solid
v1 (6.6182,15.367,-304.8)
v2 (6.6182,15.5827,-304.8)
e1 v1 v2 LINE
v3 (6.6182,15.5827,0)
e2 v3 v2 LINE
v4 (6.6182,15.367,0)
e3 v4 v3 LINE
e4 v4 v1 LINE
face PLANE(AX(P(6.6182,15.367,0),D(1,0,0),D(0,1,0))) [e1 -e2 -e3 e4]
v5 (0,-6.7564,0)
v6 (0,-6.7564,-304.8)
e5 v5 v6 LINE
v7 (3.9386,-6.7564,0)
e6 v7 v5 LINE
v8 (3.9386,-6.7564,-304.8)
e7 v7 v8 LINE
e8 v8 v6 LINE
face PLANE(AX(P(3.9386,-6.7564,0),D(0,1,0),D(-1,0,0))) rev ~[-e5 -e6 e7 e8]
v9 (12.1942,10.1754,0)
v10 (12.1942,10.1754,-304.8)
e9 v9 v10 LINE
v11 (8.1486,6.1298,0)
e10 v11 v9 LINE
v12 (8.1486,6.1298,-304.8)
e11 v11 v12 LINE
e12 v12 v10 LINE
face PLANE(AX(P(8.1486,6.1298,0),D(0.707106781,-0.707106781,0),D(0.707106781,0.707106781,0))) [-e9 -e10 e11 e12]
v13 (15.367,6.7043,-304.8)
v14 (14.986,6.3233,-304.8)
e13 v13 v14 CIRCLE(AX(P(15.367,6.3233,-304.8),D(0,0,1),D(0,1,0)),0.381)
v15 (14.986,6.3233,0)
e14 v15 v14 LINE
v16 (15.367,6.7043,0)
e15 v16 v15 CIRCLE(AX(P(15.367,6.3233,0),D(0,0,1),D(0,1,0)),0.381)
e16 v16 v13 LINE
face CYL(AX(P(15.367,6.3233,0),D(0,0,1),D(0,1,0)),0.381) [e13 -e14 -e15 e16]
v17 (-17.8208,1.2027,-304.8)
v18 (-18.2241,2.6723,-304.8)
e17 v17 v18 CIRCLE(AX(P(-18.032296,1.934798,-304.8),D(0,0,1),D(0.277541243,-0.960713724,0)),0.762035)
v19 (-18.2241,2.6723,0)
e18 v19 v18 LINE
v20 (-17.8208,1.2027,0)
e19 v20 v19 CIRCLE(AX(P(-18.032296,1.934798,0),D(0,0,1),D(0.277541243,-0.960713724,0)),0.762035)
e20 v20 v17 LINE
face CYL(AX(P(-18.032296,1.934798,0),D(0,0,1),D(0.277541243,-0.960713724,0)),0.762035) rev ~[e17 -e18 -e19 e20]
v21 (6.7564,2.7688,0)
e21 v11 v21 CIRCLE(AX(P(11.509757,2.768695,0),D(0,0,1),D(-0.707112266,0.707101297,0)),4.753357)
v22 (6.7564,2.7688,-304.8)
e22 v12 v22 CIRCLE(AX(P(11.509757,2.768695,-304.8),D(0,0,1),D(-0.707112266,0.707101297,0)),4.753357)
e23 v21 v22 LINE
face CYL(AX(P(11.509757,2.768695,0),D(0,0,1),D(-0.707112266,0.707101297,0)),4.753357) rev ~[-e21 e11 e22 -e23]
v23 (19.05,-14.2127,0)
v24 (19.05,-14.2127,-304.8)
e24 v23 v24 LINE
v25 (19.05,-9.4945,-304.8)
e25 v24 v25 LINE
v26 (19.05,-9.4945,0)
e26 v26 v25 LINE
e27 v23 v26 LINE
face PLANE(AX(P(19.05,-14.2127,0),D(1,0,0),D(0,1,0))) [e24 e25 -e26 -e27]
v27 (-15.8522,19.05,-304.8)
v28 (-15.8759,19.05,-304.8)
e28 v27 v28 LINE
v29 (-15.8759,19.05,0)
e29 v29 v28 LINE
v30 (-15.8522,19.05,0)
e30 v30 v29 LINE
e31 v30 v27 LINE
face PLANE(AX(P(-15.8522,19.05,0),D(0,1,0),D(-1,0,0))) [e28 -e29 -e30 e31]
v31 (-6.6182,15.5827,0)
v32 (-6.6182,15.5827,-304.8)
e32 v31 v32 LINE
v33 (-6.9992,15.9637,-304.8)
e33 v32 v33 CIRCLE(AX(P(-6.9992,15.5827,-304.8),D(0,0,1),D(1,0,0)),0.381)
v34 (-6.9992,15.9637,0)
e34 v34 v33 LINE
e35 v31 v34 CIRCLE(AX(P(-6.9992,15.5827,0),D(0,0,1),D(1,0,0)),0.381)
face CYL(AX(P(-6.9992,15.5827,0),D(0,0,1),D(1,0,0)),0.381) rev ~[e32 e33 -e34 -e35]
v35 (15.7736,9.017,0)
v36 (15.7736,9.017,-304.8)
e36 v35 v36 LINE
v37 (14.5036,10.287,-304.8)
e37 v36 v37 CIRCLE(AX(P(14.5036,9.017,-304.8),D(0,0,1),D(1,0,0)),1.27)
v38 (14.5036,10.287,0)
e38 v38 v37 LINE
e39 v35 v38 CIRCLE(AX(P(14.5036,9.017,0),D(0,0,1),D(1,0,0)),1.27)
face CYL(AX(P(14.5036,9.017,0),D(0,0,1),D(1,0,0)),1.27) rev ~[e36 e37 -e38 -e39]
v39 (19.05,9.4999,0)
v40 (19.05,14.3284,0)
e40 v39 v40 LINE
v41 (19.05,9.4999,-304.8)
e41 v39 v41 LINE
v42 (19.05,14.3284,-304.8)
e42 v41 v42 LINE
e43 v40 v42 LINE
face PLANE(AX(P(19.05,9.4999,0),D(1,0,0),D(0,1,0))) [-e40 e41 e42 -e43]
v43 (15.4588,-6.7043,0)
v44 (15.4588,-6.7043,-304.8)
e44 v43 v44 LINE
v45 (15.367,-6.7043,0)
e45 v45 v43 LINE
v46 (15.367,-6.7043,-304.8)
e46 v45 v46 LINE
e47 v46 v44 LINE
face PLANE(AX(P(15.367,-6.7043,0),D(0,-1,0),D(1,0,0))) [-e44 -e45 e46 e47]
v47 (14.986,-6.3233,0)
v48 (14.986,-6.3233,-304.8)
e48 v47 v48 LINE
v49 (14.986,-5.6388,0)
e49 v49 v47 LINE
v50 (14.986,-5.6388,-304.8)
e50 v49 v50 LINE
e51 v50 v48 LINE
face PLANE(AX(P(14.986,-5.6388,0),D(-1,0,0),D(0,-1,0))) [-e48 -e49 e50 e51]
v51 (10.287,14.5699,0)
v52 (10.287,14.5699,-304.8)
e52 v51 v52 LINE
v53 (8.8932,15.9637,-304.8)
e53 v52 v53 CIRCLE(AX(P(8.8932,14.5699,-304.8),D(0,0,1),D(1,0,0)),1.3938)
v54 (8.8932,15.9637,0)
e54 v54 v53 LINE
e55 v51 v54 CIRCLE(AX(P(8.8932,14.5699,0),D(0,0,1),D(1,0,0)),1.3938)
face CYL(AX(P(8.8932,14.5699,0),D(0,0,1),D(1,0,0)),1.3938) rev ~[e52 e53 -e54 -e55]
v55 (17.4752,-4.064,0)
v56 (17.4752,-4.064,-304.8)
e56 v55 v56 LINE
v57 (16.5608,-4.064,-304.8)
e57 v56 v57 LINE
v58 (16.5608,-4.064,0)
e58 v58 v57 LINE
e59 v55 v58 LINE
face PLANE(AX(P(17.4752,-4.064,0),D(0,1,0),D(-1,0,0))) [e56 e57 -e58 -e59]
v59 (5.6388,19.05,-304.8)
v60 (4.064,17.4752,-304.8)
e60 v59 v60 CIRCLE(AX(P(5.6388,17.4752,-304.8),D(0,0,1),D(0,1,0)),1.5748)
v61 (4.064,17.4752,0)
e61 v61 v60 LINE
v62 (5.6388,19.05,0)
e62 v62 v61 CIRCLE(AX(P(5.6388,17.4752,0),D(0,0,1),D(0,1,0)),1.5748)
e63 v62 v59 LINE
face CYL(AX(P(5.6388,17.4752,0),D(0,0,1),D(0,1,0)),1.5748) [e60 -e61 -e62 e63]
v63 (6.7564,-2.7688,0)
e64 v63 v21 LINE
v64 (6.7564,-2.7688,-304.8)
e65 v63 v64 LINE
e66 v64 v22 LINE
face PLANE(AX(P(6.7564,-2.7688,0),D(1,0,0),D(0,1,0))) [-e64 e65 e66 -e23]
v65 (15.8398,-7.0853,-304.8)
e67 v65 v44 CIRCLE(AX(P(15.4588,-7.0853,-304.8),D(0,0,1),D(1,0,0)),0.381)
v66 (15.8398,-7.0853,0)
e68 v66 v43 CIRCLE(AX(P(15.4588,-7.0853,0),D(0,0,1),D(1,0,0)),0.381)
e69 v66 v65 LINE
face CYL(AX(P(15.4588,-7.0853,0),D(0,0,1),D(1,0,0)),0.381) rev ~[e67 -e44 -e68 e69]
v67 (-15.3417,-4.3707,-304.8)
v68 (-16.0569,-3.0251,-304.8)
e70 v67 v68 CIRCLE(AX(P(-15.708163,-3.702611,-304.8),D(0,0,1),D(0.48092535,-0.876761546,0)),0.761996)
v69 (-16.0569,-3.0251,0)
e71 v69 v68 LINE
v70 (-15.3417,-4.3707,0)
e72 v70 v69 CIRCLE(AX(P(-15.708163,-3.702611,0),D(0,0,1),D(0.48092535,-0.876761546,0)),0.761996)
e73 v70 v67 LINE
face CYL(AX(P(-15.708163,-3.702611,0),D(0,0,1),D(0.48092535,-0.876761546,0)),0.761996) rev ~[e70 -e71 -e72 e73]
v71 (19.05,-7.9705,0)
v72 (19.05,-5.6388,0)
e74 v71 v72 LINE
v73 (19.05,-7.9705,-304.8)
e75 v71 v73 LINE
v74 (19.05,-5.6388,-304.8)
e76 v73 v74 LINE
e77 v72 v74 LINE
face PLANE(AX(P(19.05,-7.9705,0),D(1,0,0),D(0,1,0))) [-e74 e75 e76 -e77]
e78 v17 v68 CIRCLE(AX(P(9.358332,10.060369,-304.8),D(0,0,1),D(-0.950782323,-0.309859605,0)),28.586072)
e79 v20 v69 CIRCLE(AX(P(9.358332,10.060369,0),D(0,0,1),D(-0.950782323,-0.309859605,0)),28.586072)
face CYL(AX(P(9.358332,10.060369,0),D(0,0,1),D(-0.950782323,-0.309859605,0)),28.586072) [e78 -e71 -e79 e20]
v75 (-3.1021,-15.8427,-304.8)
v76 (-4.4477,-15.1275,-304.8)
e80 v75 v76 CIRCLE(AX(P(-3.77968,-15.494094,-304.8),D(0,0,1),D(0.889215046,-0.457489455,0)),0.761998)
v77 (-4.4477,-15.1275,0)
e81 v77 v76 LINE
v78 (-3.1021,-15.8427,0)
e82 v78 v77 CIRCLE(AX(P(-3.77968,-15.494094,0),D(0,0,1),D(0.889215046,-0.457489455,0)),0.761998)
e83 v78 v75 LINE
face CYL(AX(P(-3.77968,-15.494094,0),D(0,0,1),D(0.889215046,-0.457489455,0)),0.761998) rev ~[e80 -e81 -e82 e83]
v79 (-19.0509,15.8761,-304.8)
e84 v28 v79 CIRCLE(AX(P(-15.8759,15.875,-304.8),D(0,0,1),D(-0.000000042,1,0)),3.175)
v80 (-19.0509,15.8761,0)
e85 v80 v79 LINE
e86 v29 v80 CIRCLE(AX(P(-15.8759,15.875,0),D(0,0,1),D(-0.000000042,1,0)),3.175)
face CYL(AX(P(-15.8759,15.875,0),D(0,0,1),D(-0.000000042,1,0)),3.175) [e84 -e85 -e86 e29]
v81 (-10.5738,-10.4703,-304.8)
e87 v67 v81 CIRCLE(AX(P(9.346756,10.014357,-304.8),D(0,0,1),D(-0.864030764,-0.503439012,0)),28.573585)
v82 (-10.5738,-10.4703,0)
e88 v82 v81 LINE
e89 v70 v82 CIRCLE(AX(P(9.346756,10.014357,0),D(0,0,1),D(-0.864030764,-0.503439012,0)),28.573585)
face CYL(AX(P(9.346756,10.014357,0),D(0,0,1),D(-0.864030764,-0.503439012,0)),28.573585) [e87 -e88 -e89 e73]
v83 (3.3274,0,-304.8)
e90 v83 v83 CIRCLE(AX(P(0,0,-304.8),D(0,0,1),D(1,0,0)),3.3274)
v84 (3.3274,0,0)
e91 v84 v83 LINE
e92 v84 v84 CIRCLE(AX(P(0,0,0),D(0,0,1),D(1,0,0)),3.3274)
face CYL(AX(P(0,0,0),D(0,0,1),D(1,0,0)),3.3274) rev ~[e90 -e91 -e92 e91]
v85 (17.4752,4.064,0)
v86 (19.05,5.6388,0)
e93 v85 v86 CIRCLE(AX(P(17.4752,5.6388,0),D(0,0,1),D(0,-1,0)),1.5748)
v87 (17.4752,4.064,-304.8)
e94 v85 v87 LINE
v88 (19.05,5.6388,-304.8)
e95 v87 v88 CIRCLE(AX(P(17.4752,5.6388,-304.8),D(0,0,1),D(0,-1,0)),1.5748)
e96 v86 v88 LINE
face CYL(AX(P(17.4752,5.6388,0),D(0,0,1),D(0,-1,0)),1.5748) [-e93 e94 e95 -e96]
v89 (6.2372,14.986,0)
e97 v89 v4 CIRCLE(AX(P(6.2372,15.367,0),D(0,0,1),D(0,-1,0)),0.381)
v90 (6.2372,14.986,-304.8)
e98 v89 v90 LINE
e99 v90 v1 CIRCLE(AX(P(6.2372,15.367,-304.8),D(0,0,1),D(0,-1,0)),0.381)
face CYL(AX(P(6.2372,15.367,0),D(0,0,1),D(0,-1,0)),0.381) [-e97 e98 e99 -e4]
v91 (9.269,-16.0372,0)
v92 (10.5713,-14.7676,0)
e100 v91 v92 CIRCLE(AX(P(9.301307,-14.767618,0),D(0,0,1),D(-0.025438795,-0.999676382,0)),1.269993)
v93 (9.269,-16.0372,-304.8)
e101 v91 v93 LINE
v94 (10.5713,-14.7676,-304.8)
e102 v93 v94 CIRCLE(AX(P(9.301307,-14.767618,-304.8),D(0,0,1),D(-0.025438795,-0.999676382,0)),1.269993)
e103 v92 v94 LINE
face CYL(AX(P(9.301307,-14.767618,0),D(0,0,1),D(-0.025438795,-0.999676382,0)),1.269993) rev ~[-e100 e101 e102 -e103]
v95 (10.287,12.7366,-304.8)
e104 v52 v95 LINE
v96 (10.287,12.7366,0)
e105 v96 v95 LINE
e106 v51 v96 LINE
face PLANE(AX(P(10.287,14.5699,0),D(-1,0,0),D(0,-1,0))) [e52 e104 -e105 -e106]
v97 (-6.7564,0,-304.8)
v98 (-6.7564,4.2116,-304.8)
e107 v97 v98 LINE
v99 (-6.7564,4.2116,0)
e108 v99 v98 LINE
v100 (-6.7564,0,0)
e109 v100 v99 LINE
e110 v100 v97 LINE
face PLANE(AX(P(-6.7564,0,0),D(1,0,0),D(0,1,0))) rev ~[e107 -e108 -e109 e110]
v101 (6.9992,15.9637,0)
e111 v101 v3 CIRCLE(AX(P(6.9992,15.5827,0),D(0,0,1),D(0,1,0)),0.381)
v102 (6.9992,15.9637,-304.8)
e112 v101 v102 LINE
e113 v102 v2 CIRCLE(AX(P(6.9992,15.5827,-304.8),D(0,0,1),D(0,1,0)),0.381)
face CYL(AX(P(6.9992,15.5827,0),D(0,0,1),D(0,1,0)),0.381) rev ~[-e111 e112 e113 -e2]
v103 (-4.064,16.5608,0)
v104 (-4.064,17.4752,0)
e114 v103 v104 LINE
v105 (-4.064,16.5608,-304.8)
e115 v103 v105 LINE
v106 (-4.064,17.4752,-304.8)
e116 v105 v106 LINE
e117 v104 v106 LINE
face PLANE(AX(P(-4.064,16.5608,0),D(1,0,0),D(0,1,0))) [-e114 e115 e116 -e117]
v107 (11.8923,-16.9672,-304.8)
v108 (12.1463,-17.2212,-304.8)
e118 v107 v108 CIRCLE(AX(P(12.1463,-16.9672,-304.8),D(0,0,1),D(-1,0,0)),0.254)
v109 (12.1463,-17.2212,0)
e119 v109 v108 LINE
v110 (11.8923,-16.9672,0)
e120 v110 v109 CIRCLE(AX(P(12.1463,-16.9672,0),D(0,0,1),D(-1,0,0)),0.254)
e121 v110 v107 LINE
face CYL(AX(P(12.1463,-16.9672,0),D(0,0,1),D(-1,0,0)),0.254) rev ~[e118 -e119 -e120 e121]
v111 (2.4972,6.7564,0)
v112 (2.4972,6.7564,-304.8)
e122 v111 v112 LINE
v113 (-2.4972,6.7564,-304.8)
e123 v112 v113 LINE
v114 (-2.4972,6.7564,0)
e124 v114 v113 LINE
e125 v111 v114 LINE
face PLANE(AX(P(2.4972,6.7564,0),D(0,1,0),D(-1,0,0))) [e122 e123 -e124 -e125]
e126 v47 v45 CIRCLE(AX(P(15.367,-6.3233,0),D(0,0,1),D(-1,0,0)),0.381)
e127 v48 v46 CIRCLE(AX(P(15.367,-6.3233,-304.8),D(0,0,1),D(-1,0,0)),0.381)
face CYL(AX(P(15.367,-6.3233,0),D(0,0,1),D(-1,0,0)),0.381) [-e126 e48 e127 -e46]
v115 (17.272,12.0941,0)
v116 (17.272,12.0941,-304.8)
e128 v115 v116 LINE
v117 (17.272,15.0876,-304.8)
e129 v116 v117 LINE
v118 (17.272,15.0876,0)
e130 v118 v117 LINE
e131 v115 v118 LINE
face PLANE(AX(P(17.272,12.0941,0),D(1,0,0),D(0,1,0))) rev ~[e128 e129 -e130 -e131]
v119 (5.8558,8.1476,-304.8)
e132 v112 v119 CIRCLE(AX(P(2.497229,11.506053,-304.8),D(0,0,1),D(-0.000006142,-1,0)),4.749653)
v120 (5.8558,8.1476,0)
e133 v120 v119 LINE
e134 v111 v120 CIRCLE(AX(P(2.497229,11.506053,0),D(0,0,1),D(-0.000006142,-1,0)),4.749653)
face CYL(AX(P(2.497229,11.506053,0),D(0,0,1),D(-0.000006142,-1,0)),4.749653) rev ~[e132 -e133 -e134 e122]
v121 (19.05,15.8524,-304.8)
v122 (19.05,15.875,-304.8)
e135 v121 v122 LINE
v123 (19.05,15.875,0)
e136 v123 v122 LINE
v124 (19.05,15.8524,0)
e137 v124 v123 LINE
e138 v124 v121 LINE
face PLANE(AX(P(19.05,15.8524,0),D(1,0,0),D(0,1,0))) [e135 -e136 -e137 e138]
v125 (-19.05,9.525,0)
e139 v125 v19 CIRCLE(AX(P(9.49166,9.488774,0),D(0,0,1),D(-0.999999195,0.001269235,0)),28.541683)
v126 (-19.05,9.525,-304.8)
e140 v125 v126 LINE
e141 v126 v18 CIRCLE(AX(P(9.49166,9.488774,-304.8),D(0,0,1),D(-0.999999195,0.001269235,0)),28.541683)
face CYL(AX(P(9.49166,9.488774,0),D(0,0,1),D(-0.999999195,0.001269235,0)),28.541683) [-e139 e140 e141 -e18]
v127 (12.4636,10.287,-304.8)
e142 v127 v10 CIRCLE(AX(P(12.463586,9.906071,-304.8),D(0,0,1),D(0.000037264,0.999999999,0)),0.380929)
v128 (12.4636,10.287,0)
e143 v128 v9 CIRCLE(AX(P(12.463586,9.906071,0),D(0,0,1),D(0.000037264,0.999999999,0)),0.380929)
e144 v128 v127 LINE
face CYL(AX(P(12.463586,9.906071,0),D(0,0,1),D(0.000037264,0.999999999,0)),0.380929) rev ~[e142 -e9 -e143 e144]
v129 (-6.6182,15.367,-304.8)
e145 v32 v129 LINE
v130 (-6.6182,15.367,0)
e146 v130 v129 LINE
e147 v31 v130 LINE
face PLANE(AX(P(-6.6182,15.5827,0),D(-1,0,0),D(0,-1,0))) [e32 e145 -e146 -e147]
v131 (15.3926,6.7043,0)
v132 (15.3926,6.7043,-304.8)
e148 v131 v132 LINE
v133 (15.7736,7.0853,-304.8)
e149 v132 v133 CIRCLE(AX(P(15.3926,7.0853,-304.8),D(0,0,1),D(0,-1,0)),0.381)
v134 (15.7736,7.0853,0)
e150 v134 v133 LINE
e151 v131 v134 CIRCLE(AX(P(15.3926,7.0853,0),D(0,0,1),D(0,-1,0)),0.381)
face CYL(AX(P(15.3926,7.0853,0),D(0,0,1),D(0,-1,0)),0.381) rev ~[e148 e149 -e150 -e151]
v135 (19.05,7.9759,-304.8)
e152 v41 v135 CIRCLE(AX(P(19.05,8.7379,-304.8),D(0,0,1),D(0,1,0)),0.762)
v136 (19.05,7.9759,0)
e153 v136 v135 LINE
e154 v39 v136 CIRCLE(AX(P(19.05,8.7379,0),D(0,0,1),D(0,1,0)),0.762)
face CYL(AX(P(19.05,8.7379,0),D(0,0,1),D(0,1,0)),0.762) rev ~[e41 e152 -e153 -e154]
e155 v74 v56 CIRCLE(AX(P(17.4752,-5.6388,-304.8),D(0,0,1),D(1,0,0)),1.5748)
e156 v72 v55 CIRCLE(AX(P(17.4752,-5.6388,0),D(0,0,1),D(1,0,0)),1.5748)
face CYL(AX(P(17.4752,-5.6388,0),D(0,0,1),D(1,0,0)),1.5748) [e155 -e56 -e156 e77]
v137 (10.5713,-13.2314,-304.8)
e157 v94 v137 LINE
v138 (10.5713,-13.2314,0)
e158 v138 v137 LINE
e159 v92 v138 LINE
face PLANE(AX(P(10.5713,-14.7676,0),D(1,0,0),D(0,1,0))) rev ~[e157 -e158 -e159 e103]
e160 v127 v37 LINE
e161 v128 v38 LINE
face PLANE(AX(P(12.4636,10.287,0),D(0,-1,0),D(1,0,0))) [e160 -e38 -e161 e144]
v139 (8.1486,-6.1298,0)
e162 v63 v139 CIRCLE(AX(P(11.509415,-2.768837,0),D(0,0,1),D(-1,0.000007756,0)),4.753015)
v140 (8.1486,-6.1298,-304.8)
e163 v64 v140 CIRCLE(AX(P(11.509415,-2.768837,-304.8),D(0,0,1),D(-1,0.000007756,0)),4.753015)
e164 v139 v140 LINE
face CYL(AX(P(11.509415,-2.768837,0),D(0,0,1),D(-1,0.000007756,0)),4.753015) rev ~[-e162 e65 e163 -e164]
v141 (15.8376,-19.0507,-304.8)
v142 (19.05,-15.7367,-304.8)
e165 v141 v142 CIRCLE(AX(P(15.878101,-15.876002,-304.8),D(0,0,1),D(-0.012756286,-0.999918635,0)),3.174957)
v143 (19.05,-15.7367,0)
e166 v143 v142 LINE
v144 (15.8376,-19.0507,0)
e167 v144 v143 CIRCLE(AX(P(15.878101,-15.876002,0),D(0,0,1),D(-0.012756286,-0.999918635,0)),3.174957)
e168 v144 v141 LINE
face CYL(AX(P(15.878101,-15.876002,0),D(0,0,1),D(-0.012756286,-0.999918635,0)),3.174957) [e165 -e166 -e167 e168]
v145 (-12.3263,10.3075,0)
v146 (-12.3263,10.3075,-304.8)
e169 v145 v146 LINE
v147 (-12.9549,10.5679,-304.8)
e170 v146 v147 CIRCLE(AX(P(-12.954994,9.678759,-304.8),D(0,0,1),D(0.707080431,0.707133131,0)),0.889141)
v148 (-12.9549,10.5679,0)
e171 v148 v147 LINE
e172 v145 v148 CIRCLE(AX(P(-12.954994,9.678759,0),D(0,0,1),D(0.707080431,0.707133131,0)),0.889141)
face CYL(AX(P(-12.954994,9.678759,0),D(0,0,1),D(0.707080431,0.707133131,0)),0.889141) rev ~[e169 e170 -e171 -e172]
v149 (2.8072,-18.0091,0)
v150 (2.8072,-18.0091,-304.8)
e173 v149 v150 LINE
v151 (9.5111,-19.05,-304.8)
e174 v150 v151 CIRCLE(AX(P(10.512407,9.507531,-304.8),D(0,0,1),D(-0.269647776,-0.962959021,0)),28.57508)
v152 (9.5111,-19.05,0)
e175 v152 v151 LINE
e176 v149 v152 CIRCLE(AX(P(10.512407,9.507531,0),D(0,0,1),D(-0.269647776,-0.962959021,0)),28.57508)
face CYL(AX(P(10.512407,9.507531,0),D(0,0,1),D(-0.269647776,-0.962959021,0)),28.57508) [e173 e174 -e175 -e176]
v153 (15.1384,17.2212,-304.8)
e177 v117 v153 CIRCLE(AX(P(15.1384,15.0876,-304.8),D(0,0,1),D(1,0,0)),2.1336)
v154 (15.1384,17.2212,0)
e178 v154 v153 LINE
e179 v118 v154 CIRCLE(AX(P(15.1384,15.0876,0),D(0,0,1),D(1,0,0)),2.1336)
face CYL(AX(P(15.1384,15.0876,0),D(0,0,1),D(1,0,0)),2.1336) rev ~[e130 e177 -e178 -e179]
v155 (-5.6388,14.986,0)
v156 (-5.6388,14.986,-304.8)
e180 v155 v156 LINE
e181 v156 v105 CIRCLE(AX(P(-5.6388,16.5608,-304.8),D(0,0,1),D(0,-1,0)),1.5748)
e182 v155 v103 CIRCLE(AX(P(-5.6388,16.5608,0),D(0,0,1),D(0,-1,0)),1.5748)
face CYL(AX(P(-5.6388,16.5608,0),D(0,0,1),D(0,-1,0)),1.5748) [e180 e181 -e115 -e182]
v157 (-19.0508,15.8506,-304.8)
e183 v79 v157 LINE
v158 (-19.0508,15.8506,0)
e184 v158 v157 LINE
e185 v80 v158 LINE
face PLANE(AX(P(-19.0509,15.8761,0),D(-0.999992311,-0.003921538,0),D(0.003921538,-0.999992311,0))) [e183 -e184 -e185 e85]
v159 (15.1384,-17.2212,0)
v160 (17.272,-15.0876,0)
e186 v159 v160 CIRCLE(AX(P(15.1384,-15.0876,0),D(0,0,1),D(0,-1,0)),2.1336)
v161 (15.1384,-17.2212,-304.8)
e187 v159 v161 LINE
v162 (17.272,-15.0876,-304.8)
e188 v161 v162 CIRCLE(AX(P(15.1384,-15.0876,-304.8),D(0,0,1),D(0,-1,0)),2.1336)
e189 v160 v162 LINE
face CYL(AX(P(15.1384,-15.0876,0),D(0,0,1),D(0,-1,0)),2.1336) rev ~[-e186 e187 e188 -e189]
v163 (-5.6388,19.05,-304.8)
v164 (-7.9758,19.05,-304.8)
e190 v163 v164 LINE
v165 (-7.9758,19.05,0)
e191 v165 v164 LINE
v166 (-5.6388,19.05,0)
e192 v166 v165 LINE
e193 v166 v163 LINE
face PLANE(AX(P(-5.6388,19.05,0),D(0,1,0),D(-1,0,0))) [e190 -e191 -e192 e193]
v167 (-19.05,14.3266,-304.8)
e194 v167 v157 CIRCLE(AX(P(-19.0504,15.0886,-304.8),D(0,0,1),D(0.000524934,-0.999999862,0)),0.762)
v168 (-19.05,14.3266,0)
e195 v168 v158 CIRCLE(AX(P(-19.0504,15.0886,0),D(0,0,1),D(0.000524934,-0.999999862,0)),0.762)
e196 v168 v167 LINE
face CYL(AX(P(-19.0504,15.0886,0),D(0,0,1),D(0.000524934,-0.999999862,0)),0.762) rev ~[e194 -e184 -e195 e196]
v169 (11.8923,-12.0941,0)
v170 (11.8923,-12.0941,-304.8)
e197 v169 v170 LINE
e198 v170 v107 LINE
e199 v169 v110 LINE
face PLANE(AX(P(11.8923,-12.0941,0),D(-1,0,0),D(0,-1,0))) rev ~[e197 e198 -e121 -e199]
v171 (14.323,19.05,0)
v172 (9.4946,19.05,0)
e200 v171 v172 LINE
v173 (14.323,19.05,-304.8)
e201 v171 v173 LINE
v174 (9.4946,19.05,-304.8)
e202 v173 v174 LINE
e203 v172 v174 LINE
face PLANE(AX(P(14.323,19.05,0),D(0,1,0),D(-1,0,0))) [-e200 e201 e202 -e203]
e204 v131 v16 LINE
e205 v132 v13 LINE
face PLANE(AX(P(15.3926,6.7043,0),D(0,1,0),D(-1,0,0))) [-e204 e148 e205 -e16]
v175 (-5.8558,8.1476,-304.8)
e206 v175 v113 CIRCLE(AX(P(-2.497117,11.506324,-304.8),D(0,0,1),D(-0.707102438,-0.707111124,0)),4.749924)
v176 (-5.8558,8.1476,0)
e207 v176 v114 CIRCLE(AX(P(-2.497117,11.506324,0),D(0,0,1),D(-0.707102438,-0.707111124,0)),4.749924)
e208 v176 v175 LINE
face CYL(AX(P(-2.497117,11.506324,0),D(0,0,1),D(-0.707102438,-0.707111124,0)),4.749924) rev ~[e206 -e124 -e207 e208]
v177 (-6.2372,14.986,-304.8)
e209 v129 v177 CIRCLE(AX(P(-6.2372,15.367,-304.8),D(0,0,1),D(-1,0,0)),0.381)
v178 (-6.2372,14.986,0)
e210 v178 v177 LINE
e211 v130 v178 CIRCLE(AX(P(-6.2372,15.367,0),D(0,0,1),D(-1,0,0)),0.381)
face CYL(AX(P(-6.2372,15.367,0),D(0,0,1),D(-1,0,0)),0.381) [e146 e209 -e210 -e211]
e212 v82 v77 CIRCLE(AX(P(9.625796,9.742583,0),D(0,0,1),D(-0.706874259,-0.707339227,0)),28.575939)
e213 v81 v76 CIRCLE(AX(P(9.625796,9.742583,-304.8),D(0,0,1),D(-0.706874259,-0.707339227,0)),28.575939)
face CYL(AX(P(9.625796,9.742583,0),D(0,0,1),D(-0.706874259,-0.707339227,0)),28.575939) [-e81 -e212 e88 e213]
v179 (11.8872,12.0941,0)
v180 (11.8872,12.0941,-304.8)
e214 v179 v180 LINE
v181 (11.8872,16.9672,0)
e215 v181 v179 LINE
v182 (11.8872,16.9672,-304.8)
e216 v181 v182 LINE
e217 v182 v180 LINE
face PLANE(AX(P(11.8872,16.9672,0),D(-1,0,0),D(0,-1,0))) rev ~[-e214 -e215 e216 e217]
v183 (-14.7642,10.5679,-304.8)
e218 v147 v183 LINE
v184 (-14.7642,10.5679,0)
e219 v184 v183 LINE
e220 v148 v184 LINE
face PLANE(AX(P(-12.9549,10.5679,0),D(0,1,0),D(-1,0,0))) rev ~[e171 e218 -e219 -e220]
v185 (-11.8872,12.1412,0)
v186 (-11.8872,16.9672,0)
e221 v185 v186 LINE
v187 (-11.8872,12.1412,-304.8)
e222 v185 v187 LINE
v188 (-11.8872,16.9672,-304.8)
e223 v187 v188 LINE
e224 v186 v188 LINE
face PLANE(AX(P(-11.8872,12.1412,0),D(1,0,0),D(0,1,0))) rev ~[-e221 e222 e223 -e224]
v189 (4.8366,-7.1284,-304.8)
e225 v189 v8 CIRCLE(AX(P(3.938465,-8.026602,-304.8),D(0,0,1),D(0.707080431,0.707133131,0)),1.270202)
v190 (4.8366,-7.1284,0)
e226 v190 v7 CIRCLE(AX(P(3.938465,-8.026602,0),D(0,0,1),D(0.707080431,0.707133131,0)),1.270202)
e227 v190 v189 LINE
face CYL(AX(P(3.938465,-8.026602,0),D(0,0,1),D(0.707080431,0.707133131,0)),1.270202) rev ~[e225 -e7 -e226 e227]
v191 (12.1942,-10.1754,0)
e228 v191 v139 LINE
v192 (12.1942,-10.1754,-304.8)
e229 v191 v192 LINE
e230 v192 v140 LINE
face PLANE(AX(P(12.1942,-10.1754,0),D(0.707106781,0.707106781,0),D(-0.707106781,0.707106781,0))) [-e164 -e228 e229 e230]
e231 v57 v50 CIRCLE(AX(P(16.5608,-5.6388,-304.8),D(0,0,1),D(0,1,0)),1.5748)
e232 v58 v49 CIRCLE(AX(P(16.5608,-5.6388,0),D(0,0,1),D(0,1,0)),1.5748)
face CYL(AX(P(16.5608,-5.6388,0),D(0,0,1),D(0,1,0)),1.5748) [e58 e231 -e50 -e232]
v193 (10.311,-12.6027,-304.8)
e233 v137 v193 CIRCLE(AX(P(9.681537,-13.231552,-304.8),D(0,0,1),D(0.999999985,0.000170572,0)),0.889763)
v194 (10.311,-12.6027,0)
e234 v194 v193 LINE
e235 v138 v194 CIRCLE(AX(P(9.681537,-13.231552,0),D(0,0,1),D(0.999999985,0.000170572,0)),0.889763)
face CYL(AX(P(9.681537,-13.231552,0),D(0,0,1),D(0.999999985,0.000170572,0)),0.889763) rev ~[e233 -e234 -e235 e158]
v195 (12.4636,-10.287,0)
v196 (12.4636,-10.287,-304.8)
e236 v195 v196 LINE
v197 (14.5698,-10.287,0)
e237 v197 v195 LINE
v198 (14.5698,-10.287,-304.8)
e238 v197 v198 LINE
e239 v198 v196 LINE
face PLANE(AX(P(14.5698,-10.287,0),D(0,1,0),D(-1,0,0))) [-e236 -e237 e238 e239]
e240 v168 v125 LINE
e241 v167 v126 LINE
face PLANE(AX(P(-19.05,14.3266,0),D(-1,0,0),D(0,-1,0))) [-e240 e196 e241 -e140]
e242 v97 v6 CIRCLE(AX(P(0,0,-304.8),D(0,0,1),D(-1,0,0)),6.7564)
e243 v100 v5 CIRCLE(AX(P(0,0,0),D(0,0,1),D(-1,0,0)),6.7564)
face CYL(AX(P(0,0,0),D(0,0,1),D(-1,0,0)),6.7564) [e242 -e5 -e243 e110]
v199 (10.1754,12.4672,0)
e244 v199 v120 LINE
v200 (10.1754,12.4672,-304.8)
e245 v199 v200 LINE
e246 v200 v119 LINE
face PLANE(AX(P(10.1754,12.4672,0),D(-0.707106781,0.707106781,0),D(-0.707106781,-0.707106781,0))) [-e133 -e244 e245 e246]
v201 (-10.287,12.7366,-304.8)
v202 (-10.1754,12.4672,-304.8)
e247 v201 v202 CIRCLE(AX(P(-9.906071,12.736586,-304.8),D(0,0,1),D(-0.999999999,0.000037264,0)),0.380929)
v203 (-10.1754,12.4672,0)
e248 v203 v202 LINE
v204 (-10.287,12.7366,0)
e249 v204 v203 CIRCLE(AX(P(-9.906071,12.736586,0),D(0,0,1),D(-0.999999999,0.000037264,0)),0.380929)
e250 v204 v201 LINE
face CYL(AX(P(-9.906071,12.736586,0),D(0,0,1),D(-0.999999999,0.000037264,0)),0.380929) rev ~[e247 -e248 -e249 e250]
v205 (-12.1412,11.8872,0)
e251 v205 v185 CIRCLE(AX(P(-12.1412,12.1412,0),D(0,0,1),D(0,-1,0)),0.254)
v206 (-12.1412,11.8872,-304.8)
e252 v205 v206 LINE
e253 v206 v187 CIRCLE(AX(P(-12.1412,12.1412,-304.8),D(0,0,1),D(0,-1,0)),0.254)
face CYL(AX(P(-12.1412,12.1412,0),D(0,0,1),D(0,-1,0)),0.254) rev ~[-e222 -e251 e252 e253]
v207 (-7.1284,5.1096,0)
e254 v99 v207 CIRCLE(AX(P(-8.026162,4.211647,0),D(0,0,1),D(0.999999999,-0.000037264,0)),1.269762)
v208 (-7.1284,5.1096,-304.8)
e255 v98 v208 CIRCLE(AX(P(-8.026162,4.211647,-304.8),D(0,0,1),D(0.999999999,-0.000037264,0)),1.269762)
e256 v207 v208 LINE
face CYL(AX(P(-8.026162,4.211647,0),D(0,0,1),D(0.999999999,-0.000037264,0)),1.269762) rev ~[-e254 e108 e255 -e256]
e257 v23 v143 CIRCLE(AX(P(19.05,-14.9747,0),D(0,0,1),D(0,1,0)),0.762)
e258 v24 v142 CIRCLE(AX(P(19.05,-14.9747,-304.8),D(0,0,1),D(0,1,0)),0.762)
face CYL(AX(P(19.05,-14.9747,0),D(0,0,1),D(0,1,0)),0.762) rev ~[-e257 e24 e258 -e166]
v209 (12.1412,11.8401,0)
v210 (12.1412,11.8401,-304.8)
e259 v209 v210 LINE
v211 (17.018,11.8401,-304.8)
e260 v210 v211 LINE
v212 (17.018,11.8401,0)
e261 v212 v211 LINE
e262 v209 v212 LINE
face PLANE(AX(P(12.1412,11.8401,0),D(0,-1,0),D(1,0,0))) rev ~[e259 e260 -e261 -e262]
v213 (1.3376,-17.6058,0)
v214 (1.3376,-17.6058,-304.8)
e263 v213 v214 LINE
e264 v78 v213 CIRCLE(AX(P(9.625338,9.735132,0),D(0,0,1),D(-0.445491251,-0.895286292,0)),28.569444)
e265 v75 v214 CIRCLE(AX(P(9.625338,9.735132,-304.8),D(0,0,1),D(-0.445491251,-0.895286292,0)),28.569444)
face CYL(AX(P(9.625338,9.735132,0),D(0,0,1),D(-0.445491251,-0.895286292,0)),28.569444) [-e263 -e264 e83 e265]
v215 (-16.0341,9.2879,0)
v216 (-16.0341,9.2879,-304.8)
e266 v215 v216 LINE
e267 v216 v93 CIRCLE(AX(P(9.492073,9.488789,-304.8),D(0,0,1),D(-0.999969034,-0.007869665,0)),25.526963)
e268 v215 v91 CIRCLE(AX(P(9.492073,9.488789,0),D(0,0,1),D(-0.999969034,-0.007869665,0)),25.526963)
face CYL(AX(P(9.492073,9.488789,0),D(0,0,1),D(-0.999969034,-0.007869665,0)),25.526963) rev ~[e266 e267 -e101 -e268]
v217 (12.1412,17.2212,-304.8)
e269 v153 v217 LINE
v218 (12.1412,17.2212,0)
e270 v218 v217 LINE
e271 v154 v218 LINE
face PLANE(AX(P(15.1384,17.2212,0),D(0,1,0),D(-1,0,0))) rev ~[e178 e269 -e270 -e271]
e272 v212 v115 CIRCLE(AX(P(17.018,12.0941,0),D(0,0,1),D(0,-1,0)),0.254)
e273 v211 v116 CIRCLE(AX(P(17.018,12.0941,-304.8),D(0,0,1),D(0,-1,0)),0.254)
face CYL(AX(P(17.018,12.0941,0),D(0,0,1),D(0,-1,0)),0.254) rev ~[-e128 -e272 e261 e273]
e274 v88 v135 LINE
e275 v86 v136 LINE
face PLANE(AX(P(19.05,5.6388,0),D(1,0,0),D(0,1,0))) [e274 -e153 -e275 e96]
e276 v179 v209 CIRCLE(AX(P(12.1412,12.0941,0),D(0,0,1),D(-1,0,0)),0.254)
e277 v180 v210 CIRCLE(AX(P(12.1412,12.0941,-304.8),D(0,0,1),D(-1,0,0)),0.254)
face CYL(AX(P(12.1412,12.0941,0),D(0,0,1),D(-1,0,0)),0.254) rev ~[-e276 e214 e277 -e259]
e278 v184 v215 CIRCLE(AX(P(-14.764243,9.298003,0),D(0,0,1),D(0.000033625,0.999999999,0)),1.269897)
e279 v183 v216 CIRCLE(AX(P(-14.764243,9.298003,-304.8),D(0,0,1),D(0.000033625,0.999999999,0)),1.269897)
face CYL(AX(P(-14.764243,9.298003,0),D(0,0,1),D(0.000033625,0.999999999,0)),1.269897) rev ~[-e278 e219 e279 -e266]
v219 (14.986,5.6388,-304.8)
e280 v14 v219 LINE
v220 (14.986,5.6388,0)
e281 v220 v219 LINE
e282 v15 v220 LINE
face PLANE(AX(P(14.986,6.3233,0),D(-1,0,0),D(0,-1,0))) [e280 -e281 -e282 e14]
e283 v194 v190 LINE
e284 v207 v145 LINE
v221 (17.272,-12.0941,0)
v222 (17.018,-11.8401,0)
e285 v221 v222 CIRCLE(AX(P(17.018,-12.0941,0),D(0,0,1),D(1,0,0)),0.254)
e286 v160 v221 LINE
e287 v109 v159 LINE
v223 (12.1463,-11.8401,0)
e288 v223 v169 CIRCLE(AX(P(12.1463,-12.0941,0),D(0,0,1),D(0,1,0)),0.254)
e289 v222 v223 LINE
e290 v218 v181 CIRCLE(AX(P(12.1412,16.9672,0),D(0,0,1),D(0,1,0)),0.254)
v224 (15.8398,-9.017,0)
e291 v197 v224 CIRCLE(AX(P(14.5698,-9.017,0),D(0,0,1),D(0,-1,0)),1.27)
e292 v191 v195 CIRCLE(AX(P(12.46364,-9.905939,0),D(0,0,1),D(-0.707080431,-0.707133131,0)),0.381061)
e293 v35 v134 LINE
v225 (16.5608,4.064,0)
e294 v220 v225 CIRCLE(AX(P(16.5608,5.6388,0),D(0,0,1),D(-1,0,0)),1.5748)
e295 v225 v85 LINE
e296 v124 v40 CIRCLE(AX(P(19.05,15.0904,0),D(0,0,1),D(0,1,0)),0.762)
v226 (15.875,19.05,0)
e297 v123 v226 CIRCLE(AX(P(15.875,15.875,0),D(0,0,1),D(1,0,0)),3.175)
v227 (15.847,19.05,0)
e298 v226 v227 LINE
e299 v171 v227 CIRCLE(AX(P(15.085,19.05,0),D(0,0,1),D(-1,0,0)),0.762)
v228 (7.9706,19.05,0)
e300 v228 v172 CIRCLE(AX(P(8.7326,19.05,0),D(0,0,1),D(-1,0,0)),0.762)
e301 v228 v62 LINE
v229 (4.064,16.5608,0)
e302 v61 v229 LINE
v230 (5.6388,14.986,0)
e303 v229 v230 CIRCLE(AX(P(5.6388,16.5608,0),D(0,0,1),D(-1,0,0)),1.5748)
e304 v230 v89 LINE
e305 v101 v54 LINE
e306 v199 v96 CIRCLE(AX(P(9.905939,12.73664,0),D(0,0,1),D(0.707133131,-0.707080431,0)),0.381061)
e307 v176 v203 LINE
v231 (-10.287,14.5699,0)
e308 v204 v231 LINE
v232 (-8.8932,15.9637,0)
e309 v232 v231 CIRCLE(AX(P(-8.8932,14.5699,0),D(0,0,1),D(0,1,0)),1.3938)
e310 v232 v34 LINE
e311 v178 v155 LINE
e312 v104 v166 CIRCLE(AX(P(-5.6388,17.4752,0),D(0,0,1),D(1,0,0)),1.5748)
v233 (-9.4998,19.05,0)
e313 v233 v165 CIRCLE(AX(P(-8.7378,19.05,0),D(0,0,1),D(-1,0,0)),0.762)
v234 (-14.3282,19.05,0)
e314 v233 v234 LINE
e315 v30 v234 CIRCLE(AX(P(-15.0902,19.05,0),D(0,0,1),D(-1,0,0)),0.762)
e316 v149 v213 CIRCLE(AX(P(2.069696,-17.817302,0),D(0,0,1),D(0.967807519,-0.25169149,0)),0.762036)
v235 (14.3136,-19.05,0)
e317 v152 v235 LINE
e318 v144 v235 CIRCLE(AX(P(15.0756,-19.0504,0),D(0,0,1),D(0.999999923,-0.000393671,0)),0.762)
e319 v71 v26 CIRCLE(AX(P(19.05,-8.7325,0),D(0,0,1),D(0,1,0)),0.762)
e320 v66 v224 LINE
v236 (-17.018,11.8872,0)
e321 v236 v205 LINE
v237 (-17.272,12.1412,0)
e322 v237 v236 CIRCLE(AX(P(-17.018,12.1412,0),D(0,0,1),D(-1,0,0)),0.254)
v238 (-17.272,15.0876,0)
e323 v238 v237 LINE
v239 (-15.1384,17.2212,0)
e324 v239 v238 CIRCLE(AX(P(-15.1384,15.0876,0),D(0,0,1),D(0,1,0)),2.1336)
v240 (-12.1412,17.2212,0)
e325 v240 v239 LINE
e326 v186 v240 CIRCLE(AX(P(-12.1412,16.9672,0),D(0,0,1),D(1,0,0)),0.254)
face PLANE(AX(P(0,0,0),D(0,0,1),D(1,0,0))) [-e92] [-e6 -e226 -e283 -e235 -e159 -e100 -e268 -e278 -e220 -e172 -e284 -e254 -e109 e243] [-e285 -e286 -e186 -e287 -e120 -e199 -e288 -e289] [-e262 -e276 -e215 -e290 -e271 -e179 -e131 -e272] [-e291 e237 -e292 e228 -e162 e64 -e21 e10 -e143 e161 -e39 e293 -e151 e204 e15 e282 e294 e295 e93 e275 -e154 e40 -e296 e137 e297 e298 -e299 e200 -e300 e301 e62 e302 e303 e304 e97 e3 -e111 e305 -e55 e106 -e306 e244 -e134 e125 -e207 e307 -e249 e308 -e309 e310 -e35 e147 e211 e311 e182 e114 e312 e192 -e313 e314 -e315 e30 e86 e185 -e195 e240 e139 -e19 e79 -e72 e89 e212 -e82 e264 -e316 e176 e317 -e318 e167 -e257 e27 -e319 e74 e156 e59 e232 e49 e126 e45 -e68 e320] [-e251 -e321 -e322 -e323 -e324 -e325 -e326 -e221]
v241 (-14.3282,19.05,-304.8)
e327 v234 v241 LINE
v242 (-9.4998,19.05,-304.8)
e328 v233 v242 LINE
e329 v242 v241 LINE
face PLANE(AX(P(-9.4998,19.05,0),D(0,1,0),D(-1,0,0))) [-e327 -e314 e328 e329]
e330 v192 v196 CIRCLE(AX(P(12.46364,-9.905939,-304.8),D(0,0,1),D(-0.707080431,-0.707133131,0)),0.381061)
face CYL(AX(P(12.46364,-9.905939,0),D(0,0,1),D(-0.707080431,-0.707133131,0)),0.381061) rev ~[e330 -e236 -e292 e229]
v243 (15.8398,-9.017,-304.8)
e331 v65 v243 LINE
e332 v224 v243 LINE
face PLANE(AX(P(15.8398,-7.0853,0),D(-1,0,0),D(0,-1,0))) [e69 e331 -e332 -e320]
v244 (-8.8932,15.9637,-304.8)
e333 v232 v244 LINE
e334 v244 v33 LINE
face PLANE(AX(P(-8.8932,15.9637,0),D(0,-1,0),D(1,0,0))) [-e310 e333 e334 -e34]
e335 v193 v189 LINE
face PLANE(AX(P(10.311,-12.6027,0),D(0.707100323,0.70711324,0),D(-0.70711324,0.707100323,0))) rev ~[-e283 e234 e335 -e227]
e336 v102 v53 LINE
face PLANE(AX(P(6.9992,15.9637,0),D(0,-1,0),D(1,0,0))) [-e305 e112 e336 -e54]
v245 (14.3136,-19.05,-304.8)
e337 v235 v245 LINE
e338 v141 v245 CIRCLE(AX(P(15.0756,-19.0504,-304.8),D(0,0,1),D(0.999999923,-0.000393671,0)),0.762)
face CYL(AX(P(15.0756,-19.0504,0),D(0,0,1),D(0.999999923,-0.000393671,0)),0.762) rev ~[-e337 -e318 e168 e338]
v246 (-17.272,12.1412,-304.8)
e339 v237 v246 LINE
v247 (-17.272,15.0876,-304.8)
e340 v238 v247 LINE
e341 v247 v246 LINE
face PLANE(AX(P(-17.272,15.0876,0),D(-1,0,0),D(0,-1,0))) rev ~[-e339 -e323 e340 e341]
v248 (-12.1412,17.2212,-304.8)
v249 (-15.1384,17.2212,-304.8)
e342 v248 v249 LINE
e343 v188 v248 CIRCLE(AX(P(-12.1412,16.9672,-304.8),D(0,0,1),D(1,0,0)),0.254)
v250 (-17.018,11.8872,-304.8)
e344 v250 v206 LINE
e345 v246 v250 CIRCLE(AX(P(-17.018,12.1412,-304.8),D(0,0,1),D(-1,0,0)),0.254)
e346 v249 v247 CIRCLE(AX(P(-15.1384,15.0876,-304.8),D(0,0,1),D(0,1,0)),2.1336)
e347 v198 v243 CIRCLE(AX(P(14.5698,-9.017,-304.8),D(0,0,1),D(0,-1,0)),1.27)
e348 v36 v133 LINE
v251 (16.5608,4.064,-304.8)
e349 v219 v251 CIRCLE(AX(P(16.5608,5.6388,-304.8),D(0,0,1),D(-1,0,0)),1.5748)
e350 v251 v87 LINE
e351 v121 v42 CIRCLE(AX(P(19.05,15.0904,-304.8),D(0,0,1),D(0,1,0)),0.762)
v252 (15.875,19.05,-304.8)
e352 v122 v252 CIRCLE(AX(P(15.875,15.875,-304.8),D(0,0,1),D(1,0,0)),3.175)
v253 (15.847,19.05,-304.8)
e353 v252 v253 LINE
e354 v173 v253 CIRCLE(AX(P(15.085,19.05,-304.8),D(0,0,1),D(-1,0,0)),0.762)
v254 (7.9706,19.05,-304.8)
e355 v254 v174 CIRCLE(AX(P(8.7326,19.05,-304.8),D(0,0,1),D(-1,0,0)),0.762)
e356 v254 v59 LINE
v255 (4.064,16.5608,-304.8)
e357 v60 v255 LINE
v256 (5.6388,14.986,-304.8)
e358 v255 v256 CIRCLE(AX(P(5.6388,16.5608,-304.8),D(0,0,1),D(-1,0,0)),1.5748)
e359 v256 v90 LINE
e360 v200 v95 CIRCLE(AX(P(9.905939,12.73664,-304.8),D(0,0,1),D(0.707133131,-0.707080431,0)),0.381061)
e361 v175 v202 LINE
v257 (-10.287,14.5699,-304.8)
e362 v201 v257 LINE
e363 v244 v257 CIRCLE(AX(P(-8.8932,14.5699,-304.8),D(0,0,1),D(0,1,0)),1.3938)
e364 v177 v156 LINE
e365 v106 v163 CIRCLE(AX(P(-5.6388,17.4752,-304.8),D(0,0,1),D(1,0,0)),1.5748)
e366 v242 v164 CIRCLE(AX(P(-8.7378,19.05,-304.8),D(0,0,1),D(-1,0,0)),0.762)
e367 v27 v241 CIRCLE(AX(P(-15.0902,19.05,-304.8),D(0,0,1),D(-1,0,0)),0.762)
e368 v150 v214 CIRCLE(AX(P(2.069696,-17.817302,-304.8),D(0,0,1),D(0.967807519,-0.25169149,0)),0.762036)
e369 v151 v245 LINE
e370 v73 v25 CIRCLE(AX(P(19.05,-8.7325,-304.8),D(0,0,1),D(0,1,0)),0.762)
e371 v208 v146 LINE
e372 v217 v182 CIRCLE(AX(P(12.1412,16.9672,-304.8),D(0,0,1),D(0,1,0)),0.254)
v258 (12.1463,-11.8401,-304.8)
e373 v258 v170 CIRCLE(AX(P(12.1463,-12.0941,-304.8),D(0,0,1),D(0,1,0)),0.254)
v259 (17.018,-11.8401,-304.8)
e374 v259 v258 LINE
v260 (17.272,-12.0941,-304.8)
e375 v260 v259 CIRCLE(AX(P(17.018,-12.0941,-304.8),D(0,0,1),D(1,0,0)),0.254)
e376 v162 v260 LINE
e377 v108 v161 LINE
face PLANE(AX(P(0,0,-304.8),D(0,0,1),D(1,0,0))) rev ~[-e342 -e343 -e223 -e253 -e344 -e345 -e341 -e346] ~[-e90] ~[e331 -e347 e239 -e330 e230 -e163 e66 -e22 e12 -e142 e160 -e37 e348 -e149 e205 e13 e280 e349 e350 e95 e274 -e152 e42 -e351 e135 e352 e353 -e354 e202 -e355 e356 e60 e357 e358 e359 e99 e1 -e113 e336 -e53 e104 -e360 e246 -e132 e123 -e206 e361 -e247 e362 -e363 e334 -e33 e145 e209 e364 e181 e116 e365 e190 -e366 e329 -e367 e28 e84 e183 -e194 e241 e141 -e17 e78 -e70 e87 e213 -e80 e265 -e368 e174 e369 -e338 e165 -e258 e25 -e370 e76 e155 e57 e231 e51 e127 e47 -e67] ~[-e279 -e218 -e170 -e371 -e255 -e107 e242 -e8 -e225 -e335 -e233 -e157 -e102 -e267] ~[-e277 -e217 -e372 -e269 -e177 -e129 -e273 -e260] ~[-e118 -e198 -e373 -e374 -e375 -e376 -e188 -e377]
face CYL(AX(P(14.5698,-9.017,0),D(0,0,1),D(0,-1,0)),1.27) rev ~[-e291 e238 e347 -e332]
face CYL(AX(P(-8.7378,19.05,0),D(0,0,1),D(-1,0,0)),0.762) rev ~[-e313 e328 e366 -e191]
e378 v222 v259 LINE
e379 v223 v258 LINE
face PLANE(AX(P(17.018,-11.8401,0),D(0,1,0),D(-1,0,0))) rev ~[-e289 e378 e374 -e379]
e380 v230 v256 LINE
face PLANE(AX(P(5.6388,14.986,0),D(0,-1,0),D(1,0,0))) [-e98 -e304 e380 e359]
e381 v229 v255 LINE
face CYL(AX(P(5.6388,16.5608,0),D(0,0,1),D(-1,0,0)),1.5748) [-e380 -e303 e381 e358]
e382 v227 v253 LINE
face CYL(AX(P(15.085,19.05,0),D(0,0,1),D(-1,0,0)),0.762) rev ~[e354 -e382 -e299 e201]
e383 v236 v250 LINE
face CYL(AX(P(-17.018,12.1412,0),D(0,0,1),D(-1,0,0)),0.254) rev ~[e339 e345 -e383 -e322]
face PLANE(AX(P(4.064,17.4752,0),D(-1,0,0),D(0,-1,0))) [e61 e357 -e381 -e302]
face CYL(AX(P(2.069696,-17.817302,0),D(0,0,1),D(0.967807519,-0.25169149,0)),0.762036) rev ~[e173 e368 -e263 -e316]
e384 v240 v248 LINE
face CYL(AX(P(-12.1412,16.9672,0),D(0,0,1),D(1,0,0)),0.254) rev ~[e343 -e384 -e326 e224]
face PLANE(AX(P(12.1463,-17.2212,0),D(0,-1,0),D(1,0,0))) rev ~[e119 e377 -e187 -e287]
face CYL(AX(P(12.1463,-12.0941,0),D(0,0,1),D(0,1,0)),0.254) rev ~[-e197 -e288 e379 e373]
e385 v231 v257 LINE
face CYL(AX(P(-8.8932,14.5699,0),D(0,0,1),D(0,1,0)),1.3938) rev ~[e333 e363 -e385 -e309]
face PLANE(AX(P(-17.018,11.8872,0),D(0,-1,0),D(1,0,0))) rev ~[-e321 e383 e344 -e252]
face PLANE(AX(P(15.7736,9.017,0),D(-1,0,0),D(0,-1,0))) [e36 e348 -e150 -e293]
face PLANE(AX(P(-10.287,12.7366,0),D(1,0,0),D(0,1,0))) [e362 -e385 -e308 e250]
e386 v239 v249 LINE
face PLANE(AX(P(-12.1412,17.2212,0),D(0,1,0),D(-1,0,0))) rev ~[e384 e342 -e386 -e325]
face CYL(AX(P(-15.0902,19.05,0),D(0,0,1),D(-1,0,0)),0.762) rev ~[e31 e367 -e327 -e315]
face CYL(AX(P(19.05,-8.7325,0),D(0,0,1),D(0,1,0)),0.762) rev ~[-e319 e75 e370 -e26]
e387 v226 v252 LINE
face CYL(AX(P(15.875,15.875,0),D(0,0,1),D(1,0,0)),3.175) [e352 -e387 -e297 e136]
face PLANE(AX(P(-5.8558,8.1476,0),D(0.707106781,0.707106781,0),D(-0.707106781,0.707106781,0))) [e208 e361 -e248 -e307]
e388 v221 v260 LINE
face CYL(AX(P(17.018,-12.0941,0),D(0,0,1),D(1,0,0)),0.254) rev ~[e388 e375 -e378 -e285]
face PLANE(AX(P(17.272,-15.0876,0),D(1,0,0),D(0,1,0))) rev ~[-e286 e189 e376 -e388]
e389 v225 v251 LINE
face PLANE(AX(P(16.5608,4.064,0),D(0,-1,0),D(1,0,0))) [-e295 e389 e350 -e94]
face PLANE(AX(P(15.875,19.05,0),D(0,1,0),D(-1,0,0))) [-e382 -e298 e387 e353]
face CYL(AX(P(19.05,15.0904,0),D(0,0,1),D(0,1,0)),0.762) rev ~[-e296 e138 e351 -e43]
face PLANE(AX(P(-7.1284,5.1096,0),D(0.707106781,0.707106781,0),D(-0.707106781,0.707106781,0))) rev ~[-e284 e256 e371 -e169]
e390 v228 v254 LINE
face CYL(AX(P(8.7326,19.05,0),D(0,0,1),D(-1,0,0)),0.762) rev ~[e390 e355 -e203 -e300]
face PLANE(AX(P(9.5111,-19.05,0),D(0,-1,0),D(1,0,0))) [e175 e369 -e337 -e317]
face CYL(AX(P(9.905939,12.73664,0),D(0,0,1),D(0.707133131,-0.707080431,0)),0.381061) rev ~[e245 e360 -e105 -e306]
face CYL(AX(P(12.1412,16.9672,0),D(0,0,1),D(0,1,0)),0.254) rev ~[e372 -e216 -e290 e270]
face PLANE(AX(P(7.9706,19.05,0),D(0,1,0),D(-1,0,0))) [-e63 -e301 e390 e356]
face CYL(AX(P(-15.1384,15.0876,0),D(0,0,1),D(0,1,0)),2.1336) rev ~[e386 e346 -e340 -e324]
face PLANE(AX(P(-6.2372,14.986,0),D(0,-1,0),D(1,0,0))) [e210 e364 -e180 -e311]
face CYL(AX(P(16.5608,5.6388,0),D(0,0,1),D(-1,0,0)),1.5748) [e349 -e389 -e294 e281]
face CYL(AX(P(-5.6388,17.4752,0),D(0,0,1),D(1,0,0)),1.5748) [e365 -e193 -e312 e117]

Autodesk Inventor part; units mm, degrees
ref_plane "YZ Plane" through (0, 0, 0) normal (1, 0, 0) x (0, 1, 0)
ref_plane "XZ Plane" through (0, 0, 0) normal (0, 1, 0) x (-1, 0, 0)
ref_plane "XY Plane" through (0, 0, 0) normal (0, 0, 1) x (1, 0, 0)
sketch "Sketch1" plane through (0, 0, 0) normal (0, 0, 1) x (1, 0, 0)
  arc A0 (-17.272, 12.1412) -> (-17.018, 11.8872) centre (-17.018, 12.1412) ccw
  line L0 (-17.272, 15.0876) -> (-17.272, 12.1412)
  arc A1 (-15.1384, 17.2212) -> (-17.272, 15.0876) centre (-15.1384, 15.0876) ccw
  line L1 (-12.1412, 17.2212) -> (-15.1384, 17.2212)
  arc A2 (-11.8872, 16.9672) -> (-12.1412, 17.2212) centre (-12.1412, 16.9672) ccw
  line L2 (-11.8872, 12.1412) -> (-11.8872, 16.9672)
  arc A3 (-12.1412, 11.8872) -> (-11.8872, 12.1412) centre (-12.1412, 12.1412) ccw
  line L3 (-17.018, 11.8872) -> (-12.1412, 11.8872)
  circle A4 centre (0, 0) radius 3.3274
  arc A5 (9.269, -16.0372) -> (10.5713, -14.7676) centre (9.3013, -14.7676) ccw
  arc A6 (-16.0341, 9.2879) -> (9.269, -16.0372) centre (9.4921, 9.4888) ccw
  arc A7 (-14.7642, 10.5679) -> (-16.0341, 9.2879) centre (-14.7642, 9.2979) ccw
  line L4 (-12.9549, 10.5679) -> (-14.7642, 10.5679)
  arc A8 (-12.3263, 10.3075) -> (-12.9549, 10.5679) centre (-12.9549, 9.6789) ccw
  line L5 (-7.1284, 5.1096) -> (-12.3263, 10.3075)
  arc A9 (-6.7564, 4.2116) -> (-7.1284, 5.1096) centre (-8.0264, 4.2116) ccw
  line L6 (-6.7564, 0) -> (-6.7564, 4.2116)
  arc A10 (-6.7564, 0) -> (0, -6.7564) centre (0, 0) ccw
  line L7 (3.9386, -6.7564) -> (0, -6.7564)
  arc A11 (4.8366, -7.1284) -> (3.9386, -6.7564) centre (3.9386, -8.0264) ccw
  line L8 (10.311, -12.6027) -> (4.8366, -7.1284)
  arc A12 (10.5713, -13.2314) -> (10.311, -12.6027) centre (9.6823, -13.2314) ccw
  line L9 (10.5713, -14.7676) -> (10.5713, -13.2314)
  arc A13 (12.1463, -11.8401) -> (11.8923, -12.0941) centre (12.1463, -12.0941) ccw
  line L10 (17.018, -11.8401) -> (12.1463, -11.8401)
  arc A14 (17.272, -12.0941) -> (17.018, -11.8401) centre (17.018, -12.0941) ccw
  line L11 (17.272, -15.0876) -> (17.272, -12.0941)
  arc A15 (15.1384, -17.2212) -> (17.272, -15.0876) centre (15.1384, -15.0876) ccw
  line L12 (12.1463, -17.2212) -> (15.1384, -17.2212)
  arc A16 (11.8923, -16.9672) -> (12.1463, -17.2212) centre (12.1463, -16.9672) ccw
  line L13 (11.8923, -12.0941) -> (11.8923, -16.9672)
  arc A17 (12.1412, 17.2212) -> (11.8872, 16.9672) centre (12.1412, 16.9672) ccw
  line L14 (15.1384, 17.2212) -> (12.1412, 17.2212)
  arc A18 (17.272, 15.0876) -> (15.1384, 17.2212) centre (15.1384, 15.0876) ccw
  line L15 (17.272, 12.0941) -> (17.272, 15.0876)
  arc A19 (17.018, 11.8401) -> (17.272, 12.0941) centre (17.018, 12.0941) ccw
  line L16 (12.1412, 11.8401) -> (17.018, 11.8401)
  arc A20 (11.8872, 12.0941) -> (12.1412, 11.8401) centre (12.1412, 12.0941) ccw
  line L17 (11.8872, 16.9672) -> (11.8872, 12.0941)
  arc A21 (-5.8558, 8.1476) -> (-2.4972, 6.7564) centre (-2.4972, 11.5062) ccw
  line L18 (-5.8558, 8.1476) -> (-10.1754, 12.4672)
  arc A22 (-10.287, 12.7366) -> (-10.1754, 12.4672) centre (-9.906, 12.7366) ccw
  line L19 (-10.287, 12.7366) -> (-10.287, 14.5699)
  arc A23 (-8.8932, 15.9637) -> (-10.287, 14.5699) centre (-8.8932, 14.5699) ccw
  line L20 (-8.8932, 15.9637) -> (-6.9992, 15.9637)
  arc A24 (-6.6182, 15.5827) -> (-6.9992, 15.9637) centre (-6.9992, 15.5827) ccw
  line L21 (-6.6182, 15.5827) -> (-6.6182, 15.367)
  arc A25 (-6.6182, 15.367) -> (-6.2372, 14.986) centre (-6.2372, 15.367) ccw
  line L22 (-6.2372, 14.986) -> (-5.6388, 14.986)
  arc A26 (-5.6388, 14.986) -> (-4.064, 16.5608) centre (-5.6388, 16.5608) ccw
  line L23 (-4.064, 16.5608) -> (-4.064, 17.4752)
  arc A27 (-4.064, 17.4752) -> (-5.6388, 19.05) centre (-5.6388, 17.4752) ccw
  line L24 (-5.6388, 19.05) -> (-7.9758, 19.05)
  arc A28 (-9.4998, 19.05) -> (-7.9758, 19.05) centre (-8.7378, 19.05) ccw
  line L25 (-9.4998, 19.05) -> (-14.3282, 19.05)
  arc A29 (-15.8522, 19.05) -> (-14.3282, 19.05) centre (-15.0902, 19.05) ccw
  line L26 (-15.8522, 19.05) -> (-15.8759, 19.05)
  arc A30 (-15.8759, 19.05) -> (-19.0509, 15.8761) centre (-15.8759, 15.875) ccw
  line L27 (-19.0509, 15.8761) -> (-19.0508, 15.8506)
  arc A31 (-19.05, 14.3266) -> (-19.0508, 15.8506) centre (-19.0504, 15.0886) ccw
  line L28 (-19.05, 14.3266) -> (-19.05, 9.525)
  arc A32 (-19.05, 9.525) -> (-18.2241, 2.6723) centre (9.4921, 9.4888) ccw
  arc A33 (-17.8208, 1.2027) -> (-18.2241, 2.6723) centre (-18.0323, 1.9348) ccw
  arc A34 (-17.8208, 1.2027) -> (-16.0569, -3.0251) centre (9.3479, 10.0565) ccw
  arc A35 (-15.3417, -4.3707) -> (-16.0569, -3.0251) centre (-15.7082, -3.7026) ccw
  arc A36 (-15.3417, -4.3707) -> (-10.5738, -10.4703) centre (9.348, 10.0152) ccw
  arc A37 (-10.5738, -10.4703) -> (-4.4477, -15.1275) centre (9.6252, 9.7419) ccw
  arc A38 (-3.1021, -15.8427) -> (-4.4477, -15.1275) centre (-3.7797, -15.4941) ccw
  arc A39 (-3.1021, -15.8427) -> (1.3376, -17.6058) centre (9.6276, 9.7402) ccw
  arc A40 (2.8072, -18.0091) -> (1.3376, -17.6058) centre (2.0697, -17.8173) ccw
  arc A41 (2.8072, -18.0091) -> (9.5111, -19.05) centre (10.5124, 9.5075) ccw
  line L29 (9.5111, -19.05) -> (14.3136, -19.05)
  arc A42 (15.8376, -19.0507) -> (14.3136, -19.05) centre (15.0756, -19.0504) ccw
  arc A43 (15.8376, -19.0507) -> (19.05, -15.7367) centre (15.8781, -15.876) ccw
  arc A44 (19.05, -14.2127) -> (19.05, -15.7367) centre (19.05, -14.9747) ccw
  line L30 (19.05, -14.2127) -> (19.05, -9.4945)
  arc A45 (19.05, -7.9705) -> (19.05, -9.4945) centre (19.05, -8.7325) ccw
  line L31 (19.05, -7.9705) -> (19.05, -5.6388)
  arc A46 (19.05, -5.6388) -> (17.4752, -4.064) centre (17.4752, -5.6388) ccw
  line L32 (17.4752, -4.064) -> (16.5608, -4.064)
  arc A47 (16.5608, -4.064) -> (14.986, -5.6388) centre (16.5608, -5.6388) ccw
  line L33 (14.986, -5.6388) -> (14.986, -6.3233)
  arc A48 (14.986, -6.3233) -> (15.367, -6.7043) centre (15.367, -6.3233) ccw
  line L34 (15.367, -6.7043) -> (15.4588, -6.7043)
  arc A49 (15.8398, -7.0853) -> (15.4588, -6.7043) centre (15.4588, -7.0853) ccw
  line L35 (15.8398, -7.0853) -> (15.8398, -9.017)
  arc A50 (14.5698, -10.287) -> (15.8398, -9.017) centre (14.5698, -9.017) ccw
  line L36 (14.5698, -10.287) -> (12.4636, -10.287)
  arc A51 (12.1942, -10.1754) -> (12.4636, -10.287) centre (12.4636, -9.906) ccw
  line L37 (12.1942, -10.1754) -> (8.1486, -6.1298)
  arc A52 (6.7564, -2.7688) -> (8.1486, -6.1298) centre (11.5096, -2.7688) ccw
  line L38 (6.7564, -2.7688) -> (6.7564, 2.7688)
  arc A53 (8.1486, 6.1298) -> (6.7564, 2.7688) centre (11.5096, 2.7688) ccw
  line L39 (8.1486, 6.1298) -> (12.1942, 10.1754)
  arc A54 (12.4636, 10.287) -> (12.1942, 10.1754) centre (12.4636, 9.906) ccw
  line L40 (12.4636, 10.287) -> (14.5036, 10.287)
  arc A55 (15.7736, 9.017) -> (14.5036, 10.287) centre (14.5036, 9.017) ccw
  line L41 (15.7736, 9.017) -> (15.7736, 7.0853)
  arc A56 (15.3926, 6.7043) -> (15.7736, 7.0853) centre (15.3926, 7.0853) ccw
  line L42 (15.3926, 6.7043) -> (15.367, 6.7043)
  arc A57 (15.367, 6.7043) -> (14.986, 6.3233) centre (15.367, 6.3233) ccw
  line L43 (14.986, 6.3233) -> (14.986, 5.6388)
  arc A58 (14.986, 5.6388) -> (16.5608, 4.064) centre (16.5608, 5.6388) ccw
  line L44 (16.5608, 4.064) -> (17.4752, 4.064)
  arc A59 (17.4752, 4.064) -> (19.05, 5.6388) centre (17.4752, 5.6388) ccw
  line L45 (19.05, 5.6388) -> (19.05, 7.9759)
  arc A60 (19.05, 9.4999) -> (19.05, 7.9759) centre (19.05, 8.7379) ccw
  line L46 (19.05, 9.4999) -> (19.05, 14.3284)
  arc A61 (19.05, 15.8524) -> (19.05, 14.3284) centre (19.05, 15.0904) ccw
  line L47 (19.05, 15.8524) -> (19.05, 15.875)
  arc A62 (19.05, 15.875) -> (15.875, 19.05) centre (15.875, 15.875) ccw
  line L48 (15.875, 19.05) -> (15.847, 19.05)
  arc A63 (14.323, 19.05) -> (15.847, 19.05) centre (15.085, 19.05) ccw
  line L49 (14.323, 19.05) -> (9.4946, 19.05)
  arc A64 (7.9706, 19.05) -> (9.4946, 19.05) centre (8.7326, 19.05) ccw
  line L50 (7.9706, 19.05) -> (5.6388, 19.05)
  arc A65 (5.6388, 19.05) -> (4.064, 17.4752) centre (5.6388, 17.4752) ccw
  line L51 (4.064, 17.4752) -> (4.064, 16.5608)
  arc A66 (4.064, 16.5608) -> (5.6388, 14.986) centre (5.6388, 16.5608) ccw
  line L52 (5.6388, 14.986) -> (6.2372, 14.986)
  arc A67 (6.2372, 14.986) -> (6.6182, 15.367) centre (6.2372, 15.367) ccw
  line L53 (6.6182, 15.367) -> (6.6182, 15.5827)
  arc A68 (6.9992, 15.9637) -> (6.6182, 15.5827) centre (6.9992, 15.5827) ccw
  line L54 (6.9992, 15.9637) -> (8.8932, 15.9637)
  arc A69 (10.287, 14.5699) -> (8.8932, 15.9637) centre (8.8932, 14.5699) ccw
  line L55 (10.287, 14.5699) -> (10.287, 12.7366)
  arc A70 (10.1754, 12.4672) -> (10.287, 12.7366) centre (9.906, 12.7366) ccw
  line L56 (10.1754, 12.4672) -> (5.8558, 8.1476)
  arc A71 (2.4972, 6.7564) -> (5.8558, 8.1476) centre (2.4972, 11.5062) ccw
  line L57 (2.4972, 6.7564) -> (-2.4972, 6.7564)
extrude "Extrusion1" add sketch "Sketch1" against normal blind 304.8
properties part number "1517"
